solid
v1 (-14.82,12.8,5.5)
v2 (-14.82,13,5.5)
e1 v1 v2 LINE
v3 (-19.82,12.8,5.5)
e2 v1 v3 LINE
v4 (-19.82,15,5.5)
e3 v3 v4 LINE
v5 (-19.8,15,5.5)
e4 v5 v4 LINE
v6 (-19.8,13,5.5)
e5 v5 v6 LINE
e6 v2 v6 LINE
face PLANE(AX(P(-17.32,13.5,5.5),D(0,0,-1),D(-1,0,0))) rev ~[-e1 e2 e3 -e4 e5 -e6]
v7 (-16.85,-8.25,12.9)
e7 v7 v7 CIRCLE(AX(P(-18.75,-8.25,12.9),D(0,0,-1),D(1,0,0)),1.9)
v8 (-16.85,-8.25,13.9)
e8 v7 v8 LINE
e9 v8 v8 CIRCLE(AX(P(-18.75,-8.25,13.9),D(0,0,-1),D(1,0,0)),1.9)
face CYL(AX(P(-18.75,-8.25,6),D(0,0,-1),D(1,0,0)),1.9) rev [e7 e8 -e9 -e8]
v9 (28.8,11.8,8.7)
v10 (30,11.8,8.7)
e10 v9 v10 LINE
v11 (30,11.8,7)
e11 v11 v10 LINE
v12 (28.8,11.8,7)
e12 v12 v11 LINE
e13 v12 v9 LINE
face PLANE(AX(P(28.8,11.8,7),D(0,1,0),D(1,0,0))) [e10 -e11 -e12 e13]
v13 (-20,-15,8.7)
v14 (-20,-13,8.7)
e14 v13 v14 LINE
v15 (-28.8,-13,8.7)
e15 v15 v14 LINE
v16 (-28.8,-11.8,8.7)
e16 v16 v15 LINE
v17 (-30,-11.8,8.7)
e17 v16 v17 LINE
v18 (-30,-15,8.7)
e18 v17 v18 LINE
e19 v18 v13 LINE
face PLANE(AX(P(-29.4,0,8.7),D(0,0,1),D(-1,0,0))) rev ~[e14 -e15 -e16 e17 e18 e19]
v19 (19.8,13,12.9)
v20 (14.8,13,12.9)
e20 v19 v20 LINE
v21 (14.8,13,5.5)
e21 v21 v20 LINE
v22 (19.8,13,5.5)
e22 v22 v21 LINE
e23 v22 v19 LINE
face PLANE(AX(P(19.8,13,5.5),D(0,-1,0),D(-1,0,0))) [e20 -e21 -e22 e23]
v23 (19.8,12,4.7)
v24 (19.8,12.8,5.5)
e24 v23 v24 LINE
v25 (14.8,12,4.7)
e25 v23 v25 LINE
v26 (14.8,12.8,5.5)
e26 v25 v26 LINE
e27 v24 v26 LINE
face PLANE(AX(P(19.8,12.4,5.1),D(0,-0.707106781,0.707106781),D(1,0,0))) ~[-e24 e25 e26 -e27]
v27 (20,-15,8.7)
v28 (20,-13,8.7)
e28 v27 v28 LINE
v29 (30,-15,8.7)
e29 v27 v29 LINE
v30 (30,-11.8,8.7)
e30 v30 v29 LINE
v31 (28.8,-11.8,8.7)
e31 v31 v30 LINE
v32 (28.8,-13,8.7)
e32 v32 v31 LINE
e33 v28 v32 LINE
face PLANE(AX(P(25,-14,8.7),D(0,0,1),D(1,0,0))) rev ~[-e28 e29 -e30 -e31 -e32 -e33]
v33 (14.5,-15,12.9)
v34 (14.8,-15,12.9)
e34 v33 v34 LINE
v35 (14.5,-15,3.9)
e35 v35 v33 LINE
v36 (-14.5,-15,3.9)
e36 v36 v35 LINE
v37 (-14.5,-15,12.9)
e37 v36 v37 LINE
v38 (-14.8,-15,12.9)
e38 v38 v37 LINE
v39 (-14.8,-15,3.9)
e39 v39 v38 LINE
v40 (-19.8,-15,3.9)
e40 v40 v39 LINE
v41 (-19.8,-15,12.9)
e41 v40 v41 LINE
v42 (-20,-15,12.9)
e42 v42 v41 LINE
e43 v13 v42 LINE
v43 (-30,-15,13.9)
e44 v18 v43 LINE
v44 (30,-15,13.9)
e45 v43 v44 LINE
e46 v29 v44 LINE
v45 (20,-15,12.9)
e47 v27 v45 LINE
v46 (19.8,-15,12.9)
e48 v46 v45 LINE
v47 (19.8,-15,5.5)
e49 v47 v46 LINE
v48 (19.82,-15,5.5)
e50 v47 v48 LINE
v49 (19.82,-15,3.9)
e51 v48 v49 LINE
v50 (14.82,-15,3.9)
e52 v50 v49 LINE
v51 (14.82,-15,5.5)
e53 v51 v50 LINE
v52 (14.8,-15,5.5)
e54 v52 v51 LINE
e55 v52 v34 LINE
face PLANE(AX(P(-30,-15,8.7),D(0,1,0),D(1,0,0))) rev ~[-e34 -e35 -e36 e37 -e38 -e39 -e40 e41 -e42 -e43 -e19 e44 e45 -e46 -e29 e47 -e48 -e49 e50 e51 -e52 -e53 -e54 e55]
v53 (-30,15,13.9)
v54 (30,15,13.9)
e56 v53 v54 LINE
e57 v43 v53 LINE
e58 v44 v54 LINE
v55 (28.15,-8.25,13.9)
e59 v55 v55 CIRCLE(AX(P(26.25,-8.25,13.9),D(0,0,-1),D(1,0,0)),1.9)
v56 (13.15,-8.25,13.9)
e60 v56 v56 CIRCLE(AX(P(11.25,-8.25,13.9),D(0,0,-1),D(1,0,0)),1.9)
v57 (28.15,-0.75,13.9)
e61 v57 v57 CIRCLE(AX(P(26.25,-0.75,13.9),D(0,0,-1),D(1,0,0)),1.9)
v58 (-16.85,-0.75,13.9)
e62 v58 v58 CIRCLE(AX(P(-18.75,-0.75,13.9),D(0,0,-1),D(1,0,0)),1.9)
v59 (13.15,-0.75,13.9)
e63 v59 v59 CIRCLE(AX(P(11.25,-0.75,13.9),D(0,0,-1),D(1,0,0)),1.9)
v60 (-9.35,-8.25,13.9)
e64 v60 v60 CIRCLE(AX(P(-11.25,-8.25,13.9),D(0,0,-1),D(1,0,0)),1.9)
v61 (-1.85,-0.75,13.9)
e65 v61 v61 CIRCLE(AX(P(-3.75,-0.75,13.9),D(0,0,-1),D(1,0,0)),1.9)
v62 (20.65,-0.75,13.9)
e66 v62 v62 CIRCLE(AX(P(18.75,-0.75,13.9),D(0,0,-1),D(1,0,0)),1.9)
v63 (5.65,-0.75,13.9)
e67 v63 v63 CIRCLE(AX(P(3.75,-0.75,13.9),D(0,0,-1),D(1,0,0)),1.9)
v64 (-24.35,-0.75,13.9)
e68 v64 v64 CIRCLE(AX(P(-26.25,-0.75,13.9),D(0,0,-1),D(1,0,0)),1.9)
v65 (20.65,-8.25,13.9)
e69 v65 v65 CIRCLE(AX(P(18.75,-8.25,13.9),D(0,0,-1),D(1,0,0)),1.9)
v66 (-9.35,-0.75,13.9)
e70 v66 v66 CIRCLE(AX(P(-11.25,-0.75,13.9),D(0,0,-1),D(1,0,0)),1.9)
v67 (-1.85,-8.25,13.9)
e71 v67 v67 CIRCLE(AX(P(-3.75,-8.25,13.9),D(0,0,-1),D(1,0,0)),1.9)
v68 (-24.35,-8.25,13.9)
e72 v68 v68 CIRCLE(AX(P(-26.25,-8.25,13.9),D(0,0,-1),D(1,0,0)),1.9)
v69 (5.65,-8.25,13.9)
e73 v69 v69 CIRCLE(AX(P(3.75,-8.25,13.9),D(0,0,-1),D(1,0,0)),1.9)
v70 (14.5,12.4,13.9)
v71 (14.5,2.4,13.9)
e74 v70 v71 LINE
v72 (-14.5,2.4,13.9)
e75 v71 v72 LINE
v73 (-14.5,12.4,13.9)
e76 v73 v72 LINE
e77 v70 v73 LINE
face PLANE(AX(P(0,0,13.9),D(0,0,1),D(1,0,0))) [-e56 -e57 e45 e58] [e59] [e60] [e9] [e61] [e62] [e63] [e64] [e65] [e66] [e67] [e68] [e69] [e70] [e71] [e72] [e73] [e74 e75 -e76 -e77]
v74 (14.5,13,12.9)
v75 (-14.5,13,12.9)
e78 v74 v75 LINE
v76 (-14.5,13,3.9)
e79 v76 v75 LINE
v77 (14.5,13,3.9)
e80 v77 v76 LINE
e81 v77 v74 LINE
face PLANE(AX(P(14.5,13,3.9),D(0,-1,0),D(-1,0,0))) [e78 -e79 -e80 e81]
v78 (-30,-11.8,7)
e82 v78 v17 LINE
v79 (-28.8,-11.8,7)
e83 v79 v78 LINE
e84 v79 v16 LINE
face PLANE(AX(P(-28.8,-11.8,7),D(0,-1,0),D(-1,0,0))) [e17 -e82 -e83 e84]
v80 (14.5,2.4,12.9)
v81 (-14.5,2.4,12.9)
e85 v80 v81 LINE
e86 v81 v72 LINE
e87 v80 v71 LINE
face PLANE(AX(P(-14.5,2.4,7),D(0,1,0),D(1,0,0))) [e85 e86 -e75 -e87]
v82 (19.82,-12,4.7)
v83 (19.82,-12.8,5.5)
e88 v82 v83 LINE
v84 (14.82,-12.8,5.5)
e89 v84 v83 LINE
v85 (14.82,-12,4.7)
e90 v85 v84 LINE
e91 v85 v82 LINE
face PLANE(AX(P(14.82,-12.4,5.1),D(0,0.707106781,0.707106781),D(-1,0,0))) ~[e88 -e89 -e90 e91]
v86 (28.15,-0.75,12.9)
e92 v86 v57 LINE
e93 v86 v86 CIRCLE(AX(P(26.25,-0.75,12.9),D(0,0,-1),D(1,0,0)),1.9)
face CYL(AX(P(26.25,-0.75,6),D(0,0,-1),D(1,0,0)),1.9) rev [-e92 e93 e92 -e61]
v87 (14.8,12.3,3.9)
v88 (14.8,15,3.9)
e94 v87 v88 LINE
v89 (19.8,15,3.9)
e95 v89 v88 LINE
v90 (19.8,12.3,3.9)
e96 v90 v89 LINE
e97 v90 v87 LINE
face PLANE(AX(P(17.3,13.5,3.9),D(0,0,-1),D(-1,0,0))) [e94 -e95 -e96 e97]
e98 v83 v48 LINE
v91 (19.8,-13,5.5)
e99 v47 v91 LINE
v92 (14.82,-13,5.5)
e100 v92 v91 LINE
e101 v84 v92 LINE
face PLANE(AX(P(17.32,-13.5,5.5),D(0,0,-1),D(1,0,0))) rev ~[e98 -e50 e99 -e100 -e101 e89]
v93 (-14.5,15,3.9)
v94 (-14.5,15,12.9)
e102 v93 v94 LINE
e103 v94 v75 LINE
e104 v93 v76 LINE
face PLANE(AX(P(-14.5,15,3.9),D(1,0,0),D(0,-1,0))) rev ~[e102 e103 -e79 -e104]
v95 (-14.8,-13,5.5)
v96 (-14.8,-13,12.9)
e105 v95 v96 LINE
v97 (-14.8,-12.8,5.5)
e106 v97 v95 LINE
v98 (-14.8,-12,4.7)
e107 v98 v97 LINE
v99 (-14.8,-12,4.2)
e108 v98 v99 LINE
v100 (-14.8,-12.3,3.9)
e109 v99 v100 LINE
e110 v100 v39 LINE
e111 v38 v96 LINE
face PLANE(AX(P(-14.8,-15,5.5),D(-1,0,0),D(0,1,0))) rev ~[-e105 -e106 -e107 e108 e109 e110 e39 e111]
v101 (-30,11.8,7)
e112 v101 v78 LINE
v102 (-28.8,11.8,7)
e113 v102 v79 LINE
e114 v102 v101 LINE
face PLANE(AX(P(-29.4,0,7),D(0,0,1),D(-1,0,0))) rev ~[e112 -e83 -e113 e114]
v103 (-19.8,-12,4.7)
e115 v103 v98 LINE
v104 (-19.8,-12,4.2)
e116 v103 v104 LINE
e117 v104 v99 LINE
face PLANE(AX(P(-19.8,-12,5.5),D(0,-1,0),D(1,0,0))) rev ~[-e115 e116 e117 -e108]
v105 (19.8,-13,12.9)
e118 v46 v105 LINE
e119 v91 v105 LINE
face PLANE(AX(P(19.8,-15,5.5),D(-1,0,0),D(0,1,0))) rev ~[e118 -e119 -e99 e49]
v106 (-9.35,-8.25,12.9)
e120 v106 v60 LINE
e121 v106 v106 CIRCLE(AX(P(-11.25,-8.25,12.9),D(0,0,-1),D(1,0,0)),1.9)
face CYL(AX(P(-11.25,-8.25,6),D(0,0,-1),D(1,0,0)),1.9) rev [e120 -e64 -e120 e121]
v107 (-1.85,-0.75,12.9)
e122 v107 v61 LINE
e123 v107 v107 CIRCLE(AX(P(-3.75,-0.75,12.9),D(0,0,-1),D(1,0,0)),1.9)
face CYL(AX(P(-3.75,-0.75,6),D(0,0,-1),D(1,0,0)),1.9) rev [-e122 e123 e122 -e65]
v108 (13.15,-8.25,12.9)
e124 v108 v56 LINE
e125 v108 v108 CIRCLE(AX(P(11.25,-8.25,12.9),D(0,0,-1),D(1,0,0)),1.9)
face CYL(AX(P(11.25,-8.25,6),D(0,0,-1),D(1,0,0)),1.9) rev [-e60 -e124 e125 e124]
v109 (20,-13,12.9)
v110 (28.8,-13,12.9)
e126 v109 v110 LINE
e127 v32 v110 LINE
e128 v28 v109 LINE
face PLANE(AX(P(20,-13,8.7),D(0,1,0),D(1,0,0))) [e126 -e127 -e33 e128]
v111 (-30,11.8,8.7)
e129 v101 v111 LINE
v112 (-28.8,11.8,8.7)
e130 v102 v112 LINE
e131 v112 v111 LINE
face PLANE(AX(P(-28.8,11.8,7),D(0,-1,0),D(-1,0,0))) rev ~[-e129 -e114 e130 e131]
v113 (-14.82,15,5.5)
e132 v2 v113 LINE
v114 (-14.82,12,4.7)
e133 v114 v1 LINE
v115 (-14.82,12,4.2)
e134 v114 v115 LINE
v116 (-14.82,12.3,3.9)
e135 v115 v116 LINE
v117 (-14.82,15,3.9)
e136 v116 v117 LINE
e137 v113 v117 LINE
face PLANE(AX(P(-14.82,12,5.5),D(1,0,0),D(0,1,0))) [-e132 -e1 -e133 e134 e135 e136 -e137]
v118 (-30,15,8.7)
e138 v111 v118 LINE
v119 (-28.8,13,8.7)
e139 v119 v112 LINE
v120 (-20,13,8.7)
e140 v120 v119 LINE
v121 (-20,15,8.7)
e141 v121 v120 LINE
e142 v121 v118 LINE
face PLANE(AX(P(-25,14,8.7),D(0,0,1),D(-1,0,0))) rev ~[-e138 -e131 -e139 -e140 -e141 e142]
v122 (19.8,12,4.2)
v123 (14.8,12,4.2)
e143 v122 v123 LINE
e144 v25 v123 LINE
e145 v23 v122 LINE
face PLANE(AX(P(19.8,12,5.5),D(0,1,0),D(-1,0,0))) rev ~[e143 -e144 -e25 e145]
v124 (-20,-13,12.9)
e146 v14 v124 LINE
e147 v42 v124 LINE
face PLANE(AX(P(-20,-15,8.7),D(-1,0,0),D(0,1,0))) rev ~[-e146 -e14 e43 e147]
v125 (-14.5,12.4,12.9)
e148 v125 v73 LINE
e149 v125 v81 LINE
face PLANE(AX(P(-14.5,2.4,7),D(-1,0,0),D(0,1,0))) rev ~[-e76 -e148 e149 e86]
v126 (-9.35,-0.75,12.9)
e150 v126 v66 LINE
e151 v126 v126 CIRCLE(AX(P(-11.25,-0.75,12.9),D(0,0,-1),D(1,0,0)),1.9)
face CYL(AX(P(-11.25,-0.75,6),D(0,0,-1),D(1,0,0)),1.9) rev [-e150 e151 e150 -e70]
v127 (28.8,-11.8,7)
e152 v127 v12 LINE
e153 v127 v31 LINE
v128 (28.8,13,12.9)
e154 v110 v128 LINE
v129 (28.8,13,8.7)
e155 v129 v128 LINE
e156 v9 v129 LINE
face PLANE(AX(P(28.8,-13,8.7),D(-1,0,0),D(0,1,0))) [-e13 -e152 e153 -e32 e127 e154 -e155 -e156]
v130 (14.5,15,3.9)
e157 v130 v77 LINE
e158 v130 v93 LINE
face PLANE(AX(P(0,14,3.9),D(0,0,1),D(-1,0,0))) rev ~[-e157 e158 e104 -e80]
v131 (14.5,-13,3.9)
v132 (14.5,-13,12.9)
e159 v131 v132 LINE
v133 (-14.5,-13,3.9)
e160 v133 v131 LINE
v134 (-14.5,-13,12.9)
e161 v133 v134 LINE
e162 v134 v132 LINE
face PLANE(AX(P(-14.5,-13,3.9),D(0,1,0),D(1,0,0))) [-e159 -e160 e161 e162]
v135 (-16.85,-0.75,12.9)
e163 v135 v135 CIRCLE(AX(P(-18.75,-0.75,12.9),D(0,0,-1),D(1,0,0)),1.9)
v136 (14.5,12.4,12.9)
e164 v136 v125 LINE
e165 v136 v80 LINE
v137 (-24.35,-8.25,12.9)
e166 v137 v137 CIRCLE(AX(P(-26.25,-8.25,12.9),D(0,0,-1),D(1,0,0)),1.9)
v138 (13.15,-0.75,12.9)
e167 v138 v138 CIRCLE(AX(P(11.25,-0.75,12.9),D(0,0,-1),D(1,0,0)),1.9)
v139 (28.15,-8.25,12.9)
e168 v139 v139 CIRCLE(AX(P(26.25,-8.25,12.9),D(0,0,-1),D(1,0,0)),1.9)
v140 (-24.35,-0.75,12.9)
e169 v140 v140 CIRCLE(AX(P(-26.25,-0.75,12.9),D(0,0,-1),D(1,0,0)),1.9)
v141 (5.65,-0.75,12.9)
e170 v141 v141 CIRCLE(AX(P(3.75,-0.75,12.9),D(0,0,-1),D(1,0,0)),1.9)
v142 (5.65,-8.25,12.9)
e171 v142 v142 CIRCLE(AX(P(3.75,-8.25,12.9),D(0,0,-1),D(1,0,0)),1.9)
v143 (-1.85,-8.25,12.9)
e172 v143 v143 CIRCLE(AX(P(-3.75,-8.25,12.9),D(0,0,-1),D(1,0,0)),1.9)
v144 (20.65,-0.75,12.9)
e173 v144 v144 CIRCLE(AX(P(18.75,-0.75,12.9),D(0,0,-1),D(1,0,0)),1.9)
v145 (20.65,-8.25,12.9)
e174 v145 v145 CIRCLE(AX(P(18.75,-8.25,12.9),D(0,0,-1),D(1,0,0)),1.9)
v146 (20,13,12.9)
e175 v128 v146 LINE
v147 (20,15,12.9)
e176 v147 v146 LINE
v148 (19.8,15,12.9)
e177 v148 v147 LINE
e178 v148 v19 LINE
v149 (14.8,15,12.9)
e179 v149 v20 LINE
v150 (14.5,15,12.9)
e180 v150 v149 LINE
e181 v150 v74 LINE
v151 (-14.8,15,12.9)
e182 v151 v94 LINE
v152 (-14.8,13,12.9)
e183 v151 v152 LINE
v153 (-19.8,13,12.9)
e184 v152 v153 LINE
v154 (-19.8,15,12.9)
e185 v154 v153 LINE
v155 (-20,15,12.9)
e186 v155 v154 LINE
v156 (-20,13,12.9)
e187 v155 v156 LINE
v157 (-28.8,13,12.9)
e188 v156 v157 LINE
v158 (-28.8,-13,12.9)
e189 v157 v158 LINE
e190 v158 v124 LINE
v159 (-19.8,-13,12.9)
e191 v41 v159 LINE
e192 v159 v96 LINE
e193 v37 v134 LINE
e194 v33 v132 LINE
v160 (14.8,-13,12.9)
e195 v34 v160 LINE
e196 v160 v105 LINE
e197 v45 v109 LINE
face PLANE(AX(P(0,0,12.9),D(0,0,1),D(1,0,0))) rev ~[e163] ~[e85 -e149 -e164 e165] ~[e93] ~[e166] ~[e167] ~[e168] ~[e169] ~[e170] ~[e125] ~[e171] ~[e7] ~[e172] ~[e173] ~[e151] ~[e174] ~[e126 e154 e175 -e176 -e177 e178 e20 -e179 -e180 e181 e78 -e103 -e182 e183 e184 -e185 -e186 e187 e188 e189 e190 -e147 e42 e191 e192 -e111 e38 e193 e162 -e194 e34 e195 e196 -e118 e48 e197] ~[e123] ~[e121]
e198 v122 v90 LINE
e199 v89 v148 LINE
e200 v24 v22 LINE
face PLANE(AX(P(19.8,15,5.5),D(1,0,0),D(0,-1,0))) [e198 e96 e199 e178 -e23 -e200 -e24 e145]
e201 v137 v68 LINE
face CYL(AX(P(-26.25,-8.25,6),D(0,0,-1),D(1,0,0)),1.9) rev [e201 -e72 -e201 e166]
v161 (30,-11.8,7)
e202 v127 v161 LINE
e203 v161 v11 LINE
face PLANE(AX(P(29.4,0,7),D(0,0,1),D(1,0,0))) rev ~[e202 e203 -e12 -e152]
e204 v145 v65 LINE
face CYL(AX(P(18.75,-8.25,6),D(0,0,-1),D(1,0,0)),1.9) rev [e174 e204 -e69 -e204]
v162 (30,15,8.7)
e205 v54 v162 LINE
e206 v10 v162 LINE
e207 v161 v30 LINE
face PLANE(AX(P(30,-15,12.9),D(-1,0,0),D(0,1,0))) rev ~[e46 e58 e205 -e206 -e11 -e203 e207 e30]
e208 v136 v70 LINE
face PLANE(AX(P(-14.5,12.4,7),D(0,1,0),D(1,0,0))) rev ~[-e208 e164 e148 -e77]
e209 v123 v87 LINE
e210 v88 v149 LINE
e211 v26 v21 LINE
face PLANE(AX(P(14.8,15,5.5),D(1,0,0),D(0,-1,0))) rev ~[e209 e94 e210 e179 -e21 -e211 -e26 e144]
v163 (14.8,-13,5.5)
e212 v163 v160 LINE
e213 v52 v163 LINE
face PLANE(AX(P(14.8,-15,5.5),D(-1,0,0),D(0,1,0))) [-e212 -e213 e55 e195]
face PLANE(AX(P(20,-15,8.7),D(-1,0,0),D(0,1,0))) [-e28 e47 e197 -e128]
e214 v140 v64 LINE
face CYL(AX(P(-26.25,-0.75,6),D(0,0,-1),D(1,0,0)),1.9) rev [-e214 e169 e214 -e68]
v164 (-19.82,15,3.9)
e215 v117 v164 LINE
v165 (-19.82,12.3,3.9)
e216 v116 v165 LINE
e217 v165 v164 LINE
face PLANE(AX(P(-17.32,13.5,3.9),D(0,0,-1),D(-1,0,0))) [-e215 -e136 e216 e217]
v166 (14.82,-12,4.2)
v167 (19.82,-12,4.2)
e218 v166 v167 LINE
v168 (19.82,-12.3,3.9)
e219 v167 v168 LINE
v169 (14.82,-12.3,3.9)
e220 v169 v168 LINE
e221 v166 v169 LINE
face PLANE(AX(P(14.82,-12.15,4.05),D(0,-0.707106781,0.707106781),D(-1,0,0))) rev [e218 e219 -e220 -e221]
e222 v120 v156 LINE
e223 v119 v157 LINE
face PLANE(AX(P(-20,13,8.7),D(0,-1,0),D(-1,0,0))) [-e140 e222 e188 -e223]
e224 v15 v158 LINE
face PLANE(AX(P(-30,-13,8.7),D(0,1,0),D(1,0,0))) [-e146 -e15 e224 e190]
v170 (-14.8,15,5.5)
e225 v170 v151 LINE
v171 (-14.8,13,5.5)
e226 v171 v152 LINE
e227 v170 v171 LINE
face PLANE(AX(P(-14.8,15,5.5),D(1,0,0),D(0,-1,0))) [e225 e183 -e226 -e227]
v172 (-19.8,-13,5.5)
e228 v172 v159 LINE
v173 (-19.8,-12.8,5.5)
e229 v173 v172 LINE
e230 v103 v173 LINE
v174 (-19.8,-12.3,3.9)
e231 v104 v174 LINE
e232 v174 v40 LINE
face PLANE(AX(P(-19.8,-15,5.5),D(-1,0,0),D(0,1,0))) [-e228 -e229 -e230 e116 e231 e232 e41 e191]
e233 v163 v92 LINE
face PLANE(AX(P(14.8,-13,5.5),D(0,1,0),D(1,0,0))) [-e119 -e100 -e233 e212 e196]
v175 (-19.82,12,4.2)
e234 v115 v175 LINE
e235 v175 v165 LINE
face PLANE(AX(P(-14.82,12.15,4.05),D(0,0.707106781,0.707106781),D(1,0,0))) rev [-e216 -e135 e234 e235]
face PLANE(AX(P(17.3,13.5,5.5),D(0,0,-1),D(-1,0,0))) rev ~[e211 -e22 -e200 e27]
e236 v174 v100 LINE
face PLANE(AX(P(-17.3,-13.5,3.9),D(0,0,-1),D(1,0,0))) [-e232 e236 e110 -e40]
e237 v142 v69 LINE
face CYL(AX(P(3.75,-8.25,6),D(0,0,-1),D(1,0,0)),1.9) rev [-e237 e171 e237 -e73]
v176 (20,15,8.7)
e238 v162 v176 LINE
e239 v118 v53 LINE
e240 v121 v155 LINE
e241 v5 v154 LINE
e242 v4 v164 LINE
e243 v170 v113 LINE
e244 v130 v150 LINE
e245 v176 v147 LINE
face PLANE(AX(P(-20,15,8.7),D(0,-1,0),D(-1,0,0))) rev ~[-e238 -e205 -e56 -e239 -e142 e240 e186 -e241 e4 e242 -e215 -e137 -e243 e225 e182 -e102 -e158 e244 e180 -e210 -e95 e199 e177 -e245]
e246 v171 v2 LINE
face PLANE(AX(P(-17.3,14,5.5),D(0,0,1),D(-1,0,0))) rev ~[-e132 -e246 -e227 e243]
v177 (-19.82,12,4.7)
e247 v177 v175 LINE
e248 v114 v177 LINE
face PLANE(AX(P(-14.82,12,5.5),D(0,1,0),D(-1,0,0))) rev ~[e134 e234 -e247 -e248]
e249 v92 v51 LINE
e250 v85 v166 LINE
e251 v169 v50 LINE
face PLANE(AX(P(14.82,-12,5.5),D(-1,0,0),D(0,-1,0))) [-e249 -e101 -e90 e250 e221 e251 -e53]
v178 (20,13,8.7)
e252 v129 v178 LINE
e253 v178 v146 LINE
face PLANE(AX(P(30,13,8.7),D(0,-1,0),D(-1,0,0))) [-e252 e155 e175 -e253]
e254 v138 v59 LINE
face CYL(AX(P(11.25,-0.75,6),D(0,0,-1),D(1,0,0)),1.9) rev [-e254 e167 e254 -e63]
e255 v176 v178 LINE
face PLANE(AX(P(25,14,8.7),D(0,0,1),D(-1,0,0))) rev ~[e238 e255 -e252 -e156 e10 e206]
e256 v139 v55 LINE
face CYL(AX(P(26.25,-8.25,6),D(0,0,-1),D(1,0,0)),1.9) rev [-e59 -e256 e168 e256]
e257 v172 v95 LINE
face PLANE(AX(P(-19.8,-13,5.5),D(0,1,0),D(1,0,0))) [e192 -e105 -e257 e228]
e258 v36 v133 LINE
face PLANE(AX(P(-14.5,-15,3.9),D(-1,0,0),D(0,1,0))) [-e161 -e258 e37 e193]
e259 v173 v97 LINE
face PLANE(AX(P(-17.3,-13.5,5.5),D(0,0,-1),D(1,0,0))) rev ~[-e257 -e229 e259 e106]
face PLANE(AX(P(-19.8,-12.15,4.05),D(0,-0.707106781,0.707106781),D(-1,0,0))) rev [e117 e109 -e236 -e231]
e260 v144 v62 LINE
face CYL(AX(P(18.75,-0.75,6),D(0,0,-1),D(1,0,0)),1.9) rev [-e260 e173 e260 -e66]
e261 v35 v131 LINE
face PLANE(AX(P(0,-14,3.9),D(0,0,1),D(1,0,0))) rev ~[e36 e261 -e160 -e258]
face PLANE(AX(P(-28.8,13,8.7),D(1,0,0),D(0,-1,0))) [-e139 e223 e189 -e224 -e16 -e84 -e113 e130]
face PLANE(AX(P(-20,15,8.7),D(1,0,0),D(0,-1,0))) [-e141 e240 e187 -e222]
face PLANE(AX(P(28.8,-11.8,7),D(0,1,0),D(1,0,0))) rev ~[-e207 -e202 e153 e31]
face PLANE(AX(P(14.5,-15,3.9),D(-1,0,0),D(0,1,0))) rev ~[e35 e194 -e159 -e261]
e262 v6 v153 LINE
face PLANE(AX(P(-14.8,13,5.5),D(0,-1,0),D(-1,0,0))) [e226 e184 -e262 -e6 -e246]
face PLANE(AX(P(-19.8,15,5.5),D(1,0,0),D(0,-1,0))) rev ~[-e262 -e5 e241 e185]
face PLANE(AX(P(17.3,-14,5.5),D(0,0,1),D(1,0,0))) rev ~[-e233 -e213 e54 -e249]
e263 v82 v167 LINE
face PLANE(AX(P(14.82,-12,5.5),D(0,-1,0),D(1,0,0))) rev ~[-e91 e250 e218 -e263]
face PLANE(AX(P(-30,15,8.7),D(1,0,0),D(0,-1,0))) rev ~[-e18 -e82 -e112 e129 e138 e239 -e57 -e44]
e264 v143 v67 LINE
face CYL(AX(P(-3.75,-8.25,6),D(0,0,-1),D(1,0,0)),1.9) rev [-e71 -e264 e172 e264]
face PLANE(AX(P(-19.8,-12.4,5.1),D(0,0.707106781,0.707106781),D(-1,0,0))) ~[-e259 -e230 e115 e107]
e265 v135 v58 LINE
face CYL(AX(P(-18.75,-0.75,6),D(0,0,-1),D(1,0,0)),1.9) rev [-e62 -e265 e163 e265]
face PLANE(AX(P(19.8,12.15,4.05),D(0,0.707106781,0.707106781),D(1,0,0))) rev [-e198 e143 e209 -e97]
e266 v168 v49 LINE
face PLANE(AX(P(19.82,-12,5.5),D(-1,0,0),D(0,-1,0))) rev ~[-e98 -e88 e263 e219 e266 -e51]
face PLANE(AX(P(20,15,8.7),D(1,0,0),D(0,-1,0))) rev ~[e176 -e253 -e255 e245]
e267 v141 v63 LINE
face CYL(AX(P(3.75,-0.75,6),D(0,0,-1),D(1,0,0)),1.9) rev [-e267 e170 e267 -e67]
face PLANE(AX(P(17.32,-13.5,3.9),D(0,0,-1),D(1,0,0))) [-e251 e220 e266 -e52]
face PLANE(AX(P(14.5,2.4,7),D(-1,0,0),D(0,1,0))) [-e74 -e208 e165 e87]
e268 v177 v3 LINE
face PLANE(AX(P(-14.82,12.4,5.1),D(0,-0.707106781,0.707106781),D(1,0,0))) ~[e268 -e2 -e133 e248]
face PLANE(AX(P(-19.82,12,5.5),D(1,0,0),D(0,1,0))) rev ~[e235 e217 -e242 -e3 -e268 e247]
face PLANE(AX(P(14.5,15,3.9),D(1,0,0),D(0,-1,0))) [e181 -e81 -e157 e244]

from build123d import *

# Parameters (mm, degrees)
BOX011_W                   = 1.2
BOX011_H                   = 23.6
BOX011_DEPTH               = 1.7
BOX008_W                   = 10
BOX008_H                   = 2
BOX008_DEPTH               = 4.2
BOX006_W                   = 5
BOX006_H                   = 2
BOX006_DEPTH               = 7.4
BOX004_W                   = 5
BOX004_H                   = 3
BOX004_DEPTH               = 1.6
CHAMFER004_1_SIZE          = 0.8
CHAMFER004_2_SIZE          = 0.3
CHAMFER004_PLACEMENT_ANGLE = 180
BOX003_W                   = 5
BOX003_H                   = 3
BOX003_DEPTH               = 1.6
CHAMFER005_1_SIZE          = 0.8
CHAMFER005_2_SIZE          = 0.3
CHAMFER005_PLACEMENT_ANGLE = 180
FUSION001_PLACEMENT_ANGLE  = 180
BOX005_W                   = 29
BOX005_H                   = 2
BOX005_DEPTH               = 9
BOX007_W                   = 5
BOX007_H                   = 2
BOX007_DEPTH               = 7.4
BOX009_W                   = 10
BOX009_H                   = 2
BOX009_DEPTH               = 4.2
BOX010_W                   = 1.2
BOX010_H                   = 26
BOX010_DEPTH               = 4.2
BOX019_W                   = 1.2
BOX019_H                   = 23.6
BOX019_DEPTH               = 1.7
BOX016_W                   = 10
BOX016_H                   = 2
BOX016_DEPTH               = 4.2
BOX017_W                   = 5
BOX017_H                   = 2
BOX017_DEPTH               = 7.4
BOX015_W                   = 5
BOX015_H                   = 3
BOX015_DEPTH               = 1.6
CHAMFER007_1_SIZE          = 0.8
CHAMFER007_2_SIZE          = 0.3
CHAMFER007_PLACEMENT_ANGLE = 180
BOX013_W                   = 5
BOX013_H                   = 3
BOX013_DEPTH               = 1.6
CHAMFER006_1_SIZE          = 0.8
CHAMFER006_2_SIZE          = 0.3
CHAMFER006_PLACEMENT_ANGLE = 180
FUSION003_PLACEMENT_ANGLE  = 180
BOX012_W                   = 29
BOX012_H                   = 2
BOX012_DEPTH               = 9
BOX018_W                   = 5
BOX018_H                   = 2
BOX018_DEPTH               = 7.4
BOX014_W                   = 10
BOX014_H                   = 2
BOX014_DEPTH               = 4.2
BOX020_W                   = 1.2
BOX020_H                   = 26
BOX020_DEPTH               = 4.2
FUSION004_PLACEMENT_ANGLE  = 180
CYLINDER006_R              = 1.9
CYLINDER006_DEPTH          = 10
CYLINDER005_R              = 1.9
CYLINDER005_DEPTH          = 10
CYLINDER007_R              = 1.9
CYLINDER007_DEPTH          = 10
CYLINDER004_R              = 1.9
CYLINDER004_DEPTH          = 10
CYLINDER010_R              = 1.9
CYLINDER010_DEPTH          = 10
CYLINDER009_R              = 1.9
CYLINDER009_DEPTH          = 10
CYLINDER011_R              = 1.9
CYLINDER011_DEPTH          = 10
CYLINDER008_R              = 1.9
CYLINDER008_DEPTH          = 10
CYLINDER014_R              = 1.9
CYLINDER014_DEPTH          = 10
CYLINDER013_R              = 1.9
CYLINDER013_DEPTH          = 10
CYLINDER015_R              = 1.9
CYLINDER015_DEPTH          = 10
CYLINDER012_R              = 1.9
CYLINDER012_DEPTH          = 10
CYLINDER003_R              = 1.9
CYLINDER003_DEPTH          = 10
CYLINDER002_R              = 1.9
CYLINDER002_DEPTH          = 10
CYLINDER_R                 = 1.9
CYLINDER_DEPTH             = 10
CYLINDER001_R              = 1.9
CYLINDER001_DEPTH          = 10
BOX021_W                   = 29
BOX021_H                   = 10
BOX021_DEPTH               = 10
BOX_W                      = 60
BOX_H                      = 25
BOX_DEPTH                  = 1.4
BOX022_W                   = 60
BOX022_H                   = 30
BOX022_DEPTH               = 1


with BuildPart() as w_rfel011:
    # Box011 → Box011 (new body)
    with BuildSketch(Plane(origin=(28.8, -11.8, 7), x_dir=(1, 0, 0), z_dir=(0, 0, 1))):
        with Locations((0.6, 11.8)):
            Rectangle(BOX011_W, BOX011_H)
    extrude(amount=BOX011_DEPTH)


with BuildPart() as w_rfel008:
    # Box008 → Box008 (new body)
    with BuildSketch(Plane(origin=(20, -15, 8.7), x_dir=(1, 0, 0), z_dir=(0, 0, 1))):
        with Locations((5, 1)):
            Rectangle(BOX008_W, BOX008_H)
    extrude(amount=BOX008_DEPTH)


with BuildPart() as w_rfel006:
    # Box006 → Box006 (new body)
    with BuildSketch(Plane(origin=(14.8, -15, 5.5), x_dir=(1, 0, 0), z_dir=(0, 0, 1))):
        with Locations((2.5, 1)):
            Rectangle(BOX006_W, BOX006_H)
    extrude(amount=BOX006_DEPTH)


with BuildPart() as chamfer004:
    # Box004 → Box004 (new body)
    with BuildSketch(Plane(origin=(-30, 12, 6.9), x_dir=(1, 0, 0), z_dir=(0, 0, 1))):
        with Locations((2.5, 1.5)):
            Rectangle(BOX004_W, BOX004_H)
    extrude(amount=BOX004_DEPTH)

    # Chamfer004 1
    chamfer004_1_edges = [chamfer004.edges().sort_by_distance(p)[0] for p in [
        (-27.5, 12, 6.9),
    ]]
    chamfer(chamfer004_1_edges, length=CHAMFER004_1_SIZE)

    # Chamfer004 2
    chamfer004_2_edges = [chamfer004.edges().sort_by_distance(p)[0] for p in [
        (-27.5, 12, 8.5),
    ]]
    chamfer(chamfer004_2_edges, length=CHAMFER004_2_SIZE)


with BuildPart() as chamfer004_1:
    # Chamfer004 placement: moved
    add(chamfer004.part.moved(Location((-10.2, 0, 12.4))).rotate(Axis((-10.2, 0, 12.4), (0, 1, 0)), CHAMFER004_PLACEMENT_ANGLE))


with BuildPart() as klammern_vorne:
    # Box003 → Box003 (new body)
    with BuildSketch(Plane(origin=(-30, 12, 6.9), x_dir=(1, 0, 0), z_dir=(0, 0, 1))):
        with Locations((2.5, 1.5)):
            Rectangle(BOX003_W, BOX003_H)
    extrude(amount=BOX003_DEPTH)

    # Chamfer005 1
    chamfer005_1_edges = [klammern_vorne.edges().sort_by_distance(p)[0] for p in [
        (-27.5, 12, 6.9),
    ]]
    chamfer(chamfer005_1_edges, length=CHAMFER005_1_SIZE)

    # Chamfer005 2
    chamfer005_2_edges = [klammern_vorne.edges().sort_by_distance(p)[0] for p in [
        (-27.5, 12, 8.5),
    ]]
    chamfer(chamfer005_2_edges, length=CHAMFER005_2_SIZE)


with BuildPart() as klammern_vorne_1:
    # Chamfer005 placement: moved
    add(klammern_vorne.part.moved(Location((-44.82, 0, 12.4))).rotate(Axis((-44.82, 0, 12.4), (0, 1, 0)), CHAMFER005_PLACEMENT_ANGLE))

    # Fusion001: union Chamfer004
    add(chamfer004_1.part)


with BuildPart() as klammern_vorne_2:
    # Fusion001 placement: moved
    add(klammern_vorne_1.part.rotate(Axis((0, 0, 0), (0, 0, 1)), FUSION001_PLACEMENT_ANGLE))


with BuildPart() as w_rfel005:
    # Box005 → Box005 (new body)
    with BuildSketch(Plane(origin=(-14.5, -15, 3.9), x_dir=(1, 0, 0), z_dir=(0, 0, 1))):
        with Locations((14.5, 1)):
            Rectangle(BOX005_W, BOX005_H)
    extrude(amount=BOX005_DEPTH)


with BuildPart() as w_rfel007:
    # Box007 → Box007 (new body)
    with BuildSketch(Plane(origin=(-19.8, -15, 5.5), x_dir=(1, 0, 0), z_dir=(0, 0, 1))):
        with Locations((2.5, 1)):
            Rectangle(BOX007_W, BOX007_H)
    extrude(amount=BOX007_DEPTH)


with BuildPart() as w_rfel009:
    # Box009 → Box009 (new body)
    with BuildSketch(Plane(origin=(-30, -15, 8.7), x_dir=(1, 0, 0), z_dir=(0, 0, 1))):
        with Locations((5, 1)):
            Rectangle(BOX009_W, BOX009_H)
    extrude(amount=BOX009_DEPTH)


with BuildPart() as fusion002:
    # Box010 → Box010 (new body)
    with BuildSketch(Plane(origin=(28.8, -13, 8.7), x_dir=(1, 0, 0), z_dir=(0, 0, 1))):
        with Locations((0.6, 13)):
            Rectangle(BOX010_W, BOX010_H)
    extrude(amount=BOX010_DEPTH)

    # Fusion002: union Würfel011, Würfel008, Würfel006, Klammern vorne, Würfel005, Würfel007, Würfel009
    add(w_rfel011.part)
    add(w_rfel008.part)
    add(w_rfel006.part)
    add(klammern_vorne_2.part)
    add(w_rfel005.part)
    add(w_rfel007.part)
    add(w_rfel009.part)


with BuildPart() as w_rfel019:
    # Box019 → Box019 (new body)
    with BuildSketch(Plane(origin=(28.8, -11.8, 7), x_dir=(1, 0, 0), z_dir=(0, 0, 1))):
        with Locations((0.6, 11.8)):
            Rectangle(BOX019_W, BOX019_H)
    extrude(amount=BOX019_DEPTH)


with BuildPart() as w_rfel016:
    # Box016 → Box016 (new body)
    with BuildSketch(Plane(origin=(20, -15, 8.7), x_dir=(1, 0, 0), z_dir=(0, 0, 1))):
        with Locations((5, 1)):
            Rectangle(BOX016_W, BOX016_H)
    extrude(amount=BOX016_DEPTH)


with BuildPart() as w_rfel017:
    # Box017 → Box017 (new body)
    with BuildSketch(Plane(origin=(14.8, -15, 5.5), x_dir=(1, 0, 0), z_dir=(0, 0, 1))):
        with Locations((2.5, 1)):
            Rectangle(BOX017_W, BOX017_H)
    extrude(amount=BOX017_DEPTH)


with BuildPart() as chamfer007:
    # Box015 → Box015 (new body)
    with BuildSketch(Plane(origin=(-30, 12, 6.9), x_dir=(1, 0, 0), z_dir=(0, 0, 1))):
        with Locations((2.5, 1.5)):
            Rectangle(BOX015_W, BOX015_H)
    extrude(amount=BOX015_DEPTH)

    # Chamfer007 1
    chamfer007_1_edges = [chamfer007.edges().sort_by_distance(p)[0] for p in [
        (-27.5, 12, 6.9),
    ]]
    chamfer(chamfer007_1_edges, length=CHAMFER007_1_SIZE)

    # Chamfer007 2
    chamfer007_2_edges = [chamfer007.edges().sort_by_distance(p)[0] for p in [
        (-27.5, 12, 8.5),
    ]]
    chamfer(chamfer007_2_edges, length=CHAMFER007_2_SIZE)


with BuildPart() as chamfer007_1:
    # Chamfer007 placement: moved
    add(chamfer007.part.moved(Location((-10.2, 0, 12.4))).rotate(Axis((-10.2, 0, 12.4), (0, 1, 0)), CHAMFER007_PLACEMENT_ANGLE))


with BuildPart() as klammern_vorne001:
    # Box013 → Box013 (new body)
    with BuildSketch(Plane(origin=(-30, 12, 6.9), x_dir=(1, 0, 0), z_dir=(0, 0, 1))):
        with Locations((2.5, 1.5)):
            Rectangle(BOX013_W, BOX013_H)
    extrude(amount=BOX013_DEPTH)

    # Chamfer006 1
    chamfer006_1_edges = [klammern_vorne001.edges().sort_by_distance(p)[0] for p in [
        (-27.5, 12, 6.9),
    ]]
    chamfer(chamfer006_1_edges, length=CHAMFER006_1_SIZE)

    # Chamfer006 2
    chamfer006_2_edges = [klammern_vorne001.edges().sort_by_distance(p)[0] for p in [
        (-27.5, 12, 8.5),
    ]]
    chamfer(chamfer006_2_edges, length=CHAMFER006_2_SIZE)


with BuildPart() as klammern_vorne001_1:
    # Chamfer006 placement: moved
    add(klammern_vorne001.part.moved(Location((-44.82, 0, 12.4))).rotate(Axis((-44.82, 0, 12.4), (0, 1, 0)), CHAMFER006_PLACEMENT_ANGLE))

    # Fusion003: union Chamfer007
    add(chamfer007_1.part)


with BuildPart() as klammern_vorne001_2:
    # Fusion003 placement: moved
    add(klammern_vorne001_1.part.rotate(Axis((0, 0, 0), (0, 0, 1)), FUSION003_PLACEMENT_ANGLE))


with BuildPart() as w_rfel012:
    # Box012 → Box012 (new body)
    with BuildSketch(Plane(origin=(-14.5, -15, 3.9), x_dir=(1, 0, 0), z_dir=(0, 0, 1))):
        with Locations((14.5, 1)):
            Rectangle(BOX012_W, BOX012_H)
    extrude(amount=BOX012_DEPTH)


with BuildPart() as w_rfel018:
    # Box018 → Box018 (new body)
    with BuildSketch(Plane(origin=(-19.8, -15, 5.5), x_dir=(1, 0, 0), z_dir=(0, 0, 1))):
        with Locations((2.5, 1)):
            Rectangle(BOX018_W, BOX018_H)
    extrude(amount=BOX018_DEPTH)


with BuildPart() as w_rfel014:
    # Box014 → Box014 (new body)
    with BuildSketch(Plane(origin=(-30, -15, 8.7), x_dir=(1, 0, 0), z_dir=(0, 0, 1))):
        with Locations((5, 1)):
            Rectangle(BOX014_W, BOX014_H)
    extrude(amount=BOX014_DEPTH)


with BuildPart() as fusion004:
    # Box020 → Box020 (new body)
    with BuildSketch(Plane(origin=(28.8, -13, 8.7), x_dir=(1, 0, 0), z_dir=(0, 0, 1))):
        with Locations((0.6, 13)):
            Rectangle(BOX020_W, BOX020_H)
    extrude(amount=BOX020_DEPTH)

    # Fusion004: union Würfel019, Würfel016, Würfel017, Klammern vorne001, Würfel012, Würfel018, Würfel014
    add(w_rfel019.part)
    add(w_rfel016.part)
    add(w_rfel017.part)
    add(klammern_vorne001_2.part)
    add(w_rfel012.part)
    add(w_rfel018.part)
    add(w_rfel014.part)


with BuildPart() as fusion004_1:
    # Fusion004 placement: moved
    add(fusion004.part.rotate(Axis((0, 0, 0), (0, 0, 1)), FUSION004_PLACEMENT_ANGLE))


with BuildPart() as zylinder006:
    # Cylinder006 → Cylinder006 (new body)
    with BuildSketch(Plane(origin=(-26.25, -8.75, 6), x_dir=(1, 0, 0), z_dir=(0, 0, 1))):
        Circle(CYLINDER006_R)
    extrude(amount=CYLINDER006_DEPTH)


with BuildPart() as fusion009:
    # Cylinder005 → Cylinder005 (new body)
    with BuildSketch(Plane(origin=(-26.25, -1.25, 6), x_dir=(1, 0, 0), z_dir=(0, 0, 1))):
        Circle(CYLINDER005_R)
    extrude(amount=CYLINDER005_DEPTH)

    # Fusion009: union Zylinder006
    add(zylinder006.part)


with BuildPart() as fusion009_1:
    # Fusion009 placement: moved
    add(fusion009.part.moved(Location((7.5, 0, 0))))


with BuildPart() as zylinder007:
    # Cylinder007 → Cylinder007 (new body)
    with BuildSketch(Plane(origin=(-26.25, -8.75, 6), x_dir=(1, 0, 0), z_dir=(0, 0, 1))):
        Circle(CYLINDER007_R)
    extrude(amount=CYLINDER007_DEPTH)


with BuildPart() as fusion008:
    # Cylinder004 → Cylinder004 (new body)
    with BuildSketch(Plane(origin=(-26.25, -1.25, 6), x_dir=(1, 0, 0), z_dir=(0, 0, 1))):
        Circle(CYLINDER004_R)
    extrude(amount=CYLINDER004_DEPTH)

    # Fusion007: union Zylinder007
    add(zylinder007.part)

    # Fusion008: union Fusion009
    add(fusion009_1.part)


with BuildPart() as fusion008_1:
    # Fusion008 placement: moved
    add(fusion008.part.moved(Location((15, 0, 0))))


with BuildPart() as zylinder010:
    # Cylinder010 → Cylinder010 (new body)
    with BuildSketch(Plane(origin=(-26.25, -8.75, 6), x_dir=(1, 0, 0), z_dir=(0, 0, 1))):
        Circle(CYLINDER010_R)
    extrude(amount=CYLINDER010_DEPTH)


with BuildPart() as fusion012:
    # Cylinder009 → Cylinder009 (new body)
    with BuildSketch(Plane(origin=(-26.25, -1.25, 6), x_dir=(1, 0, 0), z_dir=(0, 0, 1))):
        Circle(CYLINDER009_R)
    extrude(amount=CYLINDER009_DEPTH)

    # Fusion012: union Zylinder010
    add(zylinder010.part)


with BuildPart() as fusion012_1:
    # Fusion012 placement: moved
    add(fusion012.part.moved(Location((7.5, 0, 0))))


with BuildPart() as zylinder011:
    # Cylinder011 → Cylinder011 (new body)
    with BuildSketch(Plane(origin=(-26.25, -8.75, 6), x_dir=(1, 0, 0), z_dir=(0, 0, 1))):
        Circle(CYLINDER011_R)
    extrude(amount=CYLINDER011_DEPTH)


with BuildPart() as fusion011:
    # Cylinder008 → Cylinder008 (new body)
    with BuildSketch(Plane(origin=(-26.25, -1.25, 6), x_dir=(1, 0, 0), z_dir=(0, 0, 1))):
        Circle(CYLINDER008_R)
    extrude(amount=CYLINDER008_DEPTH)

    # Fusion010: union Zylinder011
    add(zylinder011.part)

    # Fusion011: union Fusion012
    add(fusion012_1.part)


with BuildPart() as fusion011_1:
    # Fusion011 placement: moved
    add(fusion011.part.moved(Location((30, 0, 0))))


with BuildPart() as zylinder014:
    # Cylinder014 → Cylinder014 (new body)
    with BuildSketch(Plane(origin=(-26.25, -8.75, 6), x_dir=(1, 0, 0), z_dir=(0, 0, 1))):
        Circle(CYLINDER014_R)
    extrude(amount=CYLINDER014_DEPTH)


with BuildPart() as fusion015:
    # Cylinder013 → Cylinder013 (new body)
    with BuildSketch(Plane(origin=(-26.25, -1.25, 6), x_dir=(1, 0, 0), z_dir=(0, 0, 1))):
        Circle(CYLINDER013_R)
    extrude(amount=CYLINDER013_DEPTH)

    # Fusion015: union Zylinder014
    add(zylinder014.part)


with BuildPart() as fusion015_1:
    # Fusion015 placement: moved
    add(fusion015.part.moved(Location((7.5, 0, 0))))


with BuildPart() as zylinder015:
    # Cylinder015 → Cylinder015 (new body)
    with BuildSketch(Plane(origin=(-26.25, -8.75, 6), x_dir=(1, 0, 0), z_dir=(0, 0, 1))):
        Circle(CYLINDER015_R)
    extrude(amount=CYLINDER015_DEPTH)


with BuildPart() as fusion014:
    # Cylinder012 → Cylinder012 (new body)
    with BuildSketch(Plane(origin=(-26.25, -1.25, 6), x_dir=(1, 0, 0), z_dir=(0, 0, 1))):
        Circle(CYLINDER012_R)
    extrude(amount=CYLINDER012_DEPTH)

    # Fusion013: union Zylinder015
    add(zylinder015.part)

    # Fusion014: union Fusion015
    add(fusion015_1.part)


with BuildPart() as fusion014_1:
    # Fusion014 placement: moved
    add(fusion014.part.moved(Location((45, 0, 0))))


with BuildPart() as zylinder003:
    # Cylinder003 → Cylinder003 (new body)
    with BuildSketch(Plane(origin=(-26.25, -8.75, 6), x_dir=(1, 0, 0), z_dir=(0, 0, 1))):
        Circle(CYLINDER003_R)
    extrude(amount=CYLINDER003_DEPTH)


with BuildPart() as fusion005:
    # Cylinder002 → Cylinder002 (new body)
    with BuildSketch(Plane(origin=(-26.25, -1.25, 6), x_dir=(1, 0, 0), z_dir=(0, 0, 1))):
        Circle(CYLINDER002_R)
    extrude(amount=CYLINDER002_DEPTH)

    # Fusion005: union Zylinder003
    add(zylinder003.part)


with BuildPart() as fusion005_1:
    # Fusion005 placement: moved
    add(fusion005.part.moved(Location((7.5, 0, 0))))


with BuildPart() as zylinder:
    # Cylinder → Cylinder (new body)
    with BuildSketch(Plane(origin=(-26.25, -8.75, 6), x_dir=(1, 0, 0), z_dir=(0, 0, 1))):
        Circle(CYLINDER_R)
    extrude(amount=CYLINDER_DEPTH)


with BuildPart() as bundhuelsen:
    # Cylinder001 → Cylinder001 (new body)
    with BuildSketch(Plane(origin=(-26.25, -1.25, 6), x_dir=(1, 0, 0), z_dir=(0, 0, 1))):
        Circle(CYLINDER001_R)
    extrude(amount=CYLINDER001_DEPTH)

    # Fusion: union Zylinder
    add(zylinder.part)

    # Fusion006: union Fusion005
    add(fusion005_1.part)

    # Fusion016: union Fusion008, Fusion011, Fusion014
    add(fusion008_1.part)
    add(fusion011_1.part)
    add(fusion014_1.part)


with BuildPart() as bundhuelsen_1:
    # Fusion016 placement: moved
    add(bundhuelsen.part.moved(Location((0, 0.5, 0))))


with BuildPart() as steckleiste:
    # Box021 → Box021 (new body)
    with BuildSketch(Plane(origin=(-14.5, 2.4, 7), x_dir=(1, 0, 0), z_dir=(0, 0, 1))):
        with Locations((14.5, 5)):
            Rectangle(BOX021_W, BOX021_H)
    extrude(amount=BOX021_DEPTH)


with BuildPart() as platine_kpl:
    # Box → Box (new body)
    with BuildSketch(Plane(origin=(-30, -12.5, 5.5), x_dir=(1, 0, 0), z_dir=(0, 0, 1))):
        with Locations((30, 12.5)):
            Rectangle(BOX_W, BOX_H)
    extrude(amount=BOX_DEPTH)

    # Fusion017: union Bundhuelsen, Steckleiste
    add(bundhuelsen_1.part)
    add(steckleiste.part)


with BuildPart() as deckel:
    # Box022 → Box022 (new body)
    with BuildSketch(Plane(origin=(-30, -15, 12.9), x_dir=(1, 0, 0), z_dir=(0, 0, 1))):
        with Locations((30, 15)):
            Rectangle(BOX022_W, BOX022_H)
    extrude(amount=BOX022_DEPTH)

    # Cut001: cut Platine kpl.
    add(platine_kpl.part, mode=Mode.SUBTRACT)

    # Fusion018: union Fusion002, Fusion004
    add(fusion002.part)
    add(fusion004_1.part)


solid = deckel.part
